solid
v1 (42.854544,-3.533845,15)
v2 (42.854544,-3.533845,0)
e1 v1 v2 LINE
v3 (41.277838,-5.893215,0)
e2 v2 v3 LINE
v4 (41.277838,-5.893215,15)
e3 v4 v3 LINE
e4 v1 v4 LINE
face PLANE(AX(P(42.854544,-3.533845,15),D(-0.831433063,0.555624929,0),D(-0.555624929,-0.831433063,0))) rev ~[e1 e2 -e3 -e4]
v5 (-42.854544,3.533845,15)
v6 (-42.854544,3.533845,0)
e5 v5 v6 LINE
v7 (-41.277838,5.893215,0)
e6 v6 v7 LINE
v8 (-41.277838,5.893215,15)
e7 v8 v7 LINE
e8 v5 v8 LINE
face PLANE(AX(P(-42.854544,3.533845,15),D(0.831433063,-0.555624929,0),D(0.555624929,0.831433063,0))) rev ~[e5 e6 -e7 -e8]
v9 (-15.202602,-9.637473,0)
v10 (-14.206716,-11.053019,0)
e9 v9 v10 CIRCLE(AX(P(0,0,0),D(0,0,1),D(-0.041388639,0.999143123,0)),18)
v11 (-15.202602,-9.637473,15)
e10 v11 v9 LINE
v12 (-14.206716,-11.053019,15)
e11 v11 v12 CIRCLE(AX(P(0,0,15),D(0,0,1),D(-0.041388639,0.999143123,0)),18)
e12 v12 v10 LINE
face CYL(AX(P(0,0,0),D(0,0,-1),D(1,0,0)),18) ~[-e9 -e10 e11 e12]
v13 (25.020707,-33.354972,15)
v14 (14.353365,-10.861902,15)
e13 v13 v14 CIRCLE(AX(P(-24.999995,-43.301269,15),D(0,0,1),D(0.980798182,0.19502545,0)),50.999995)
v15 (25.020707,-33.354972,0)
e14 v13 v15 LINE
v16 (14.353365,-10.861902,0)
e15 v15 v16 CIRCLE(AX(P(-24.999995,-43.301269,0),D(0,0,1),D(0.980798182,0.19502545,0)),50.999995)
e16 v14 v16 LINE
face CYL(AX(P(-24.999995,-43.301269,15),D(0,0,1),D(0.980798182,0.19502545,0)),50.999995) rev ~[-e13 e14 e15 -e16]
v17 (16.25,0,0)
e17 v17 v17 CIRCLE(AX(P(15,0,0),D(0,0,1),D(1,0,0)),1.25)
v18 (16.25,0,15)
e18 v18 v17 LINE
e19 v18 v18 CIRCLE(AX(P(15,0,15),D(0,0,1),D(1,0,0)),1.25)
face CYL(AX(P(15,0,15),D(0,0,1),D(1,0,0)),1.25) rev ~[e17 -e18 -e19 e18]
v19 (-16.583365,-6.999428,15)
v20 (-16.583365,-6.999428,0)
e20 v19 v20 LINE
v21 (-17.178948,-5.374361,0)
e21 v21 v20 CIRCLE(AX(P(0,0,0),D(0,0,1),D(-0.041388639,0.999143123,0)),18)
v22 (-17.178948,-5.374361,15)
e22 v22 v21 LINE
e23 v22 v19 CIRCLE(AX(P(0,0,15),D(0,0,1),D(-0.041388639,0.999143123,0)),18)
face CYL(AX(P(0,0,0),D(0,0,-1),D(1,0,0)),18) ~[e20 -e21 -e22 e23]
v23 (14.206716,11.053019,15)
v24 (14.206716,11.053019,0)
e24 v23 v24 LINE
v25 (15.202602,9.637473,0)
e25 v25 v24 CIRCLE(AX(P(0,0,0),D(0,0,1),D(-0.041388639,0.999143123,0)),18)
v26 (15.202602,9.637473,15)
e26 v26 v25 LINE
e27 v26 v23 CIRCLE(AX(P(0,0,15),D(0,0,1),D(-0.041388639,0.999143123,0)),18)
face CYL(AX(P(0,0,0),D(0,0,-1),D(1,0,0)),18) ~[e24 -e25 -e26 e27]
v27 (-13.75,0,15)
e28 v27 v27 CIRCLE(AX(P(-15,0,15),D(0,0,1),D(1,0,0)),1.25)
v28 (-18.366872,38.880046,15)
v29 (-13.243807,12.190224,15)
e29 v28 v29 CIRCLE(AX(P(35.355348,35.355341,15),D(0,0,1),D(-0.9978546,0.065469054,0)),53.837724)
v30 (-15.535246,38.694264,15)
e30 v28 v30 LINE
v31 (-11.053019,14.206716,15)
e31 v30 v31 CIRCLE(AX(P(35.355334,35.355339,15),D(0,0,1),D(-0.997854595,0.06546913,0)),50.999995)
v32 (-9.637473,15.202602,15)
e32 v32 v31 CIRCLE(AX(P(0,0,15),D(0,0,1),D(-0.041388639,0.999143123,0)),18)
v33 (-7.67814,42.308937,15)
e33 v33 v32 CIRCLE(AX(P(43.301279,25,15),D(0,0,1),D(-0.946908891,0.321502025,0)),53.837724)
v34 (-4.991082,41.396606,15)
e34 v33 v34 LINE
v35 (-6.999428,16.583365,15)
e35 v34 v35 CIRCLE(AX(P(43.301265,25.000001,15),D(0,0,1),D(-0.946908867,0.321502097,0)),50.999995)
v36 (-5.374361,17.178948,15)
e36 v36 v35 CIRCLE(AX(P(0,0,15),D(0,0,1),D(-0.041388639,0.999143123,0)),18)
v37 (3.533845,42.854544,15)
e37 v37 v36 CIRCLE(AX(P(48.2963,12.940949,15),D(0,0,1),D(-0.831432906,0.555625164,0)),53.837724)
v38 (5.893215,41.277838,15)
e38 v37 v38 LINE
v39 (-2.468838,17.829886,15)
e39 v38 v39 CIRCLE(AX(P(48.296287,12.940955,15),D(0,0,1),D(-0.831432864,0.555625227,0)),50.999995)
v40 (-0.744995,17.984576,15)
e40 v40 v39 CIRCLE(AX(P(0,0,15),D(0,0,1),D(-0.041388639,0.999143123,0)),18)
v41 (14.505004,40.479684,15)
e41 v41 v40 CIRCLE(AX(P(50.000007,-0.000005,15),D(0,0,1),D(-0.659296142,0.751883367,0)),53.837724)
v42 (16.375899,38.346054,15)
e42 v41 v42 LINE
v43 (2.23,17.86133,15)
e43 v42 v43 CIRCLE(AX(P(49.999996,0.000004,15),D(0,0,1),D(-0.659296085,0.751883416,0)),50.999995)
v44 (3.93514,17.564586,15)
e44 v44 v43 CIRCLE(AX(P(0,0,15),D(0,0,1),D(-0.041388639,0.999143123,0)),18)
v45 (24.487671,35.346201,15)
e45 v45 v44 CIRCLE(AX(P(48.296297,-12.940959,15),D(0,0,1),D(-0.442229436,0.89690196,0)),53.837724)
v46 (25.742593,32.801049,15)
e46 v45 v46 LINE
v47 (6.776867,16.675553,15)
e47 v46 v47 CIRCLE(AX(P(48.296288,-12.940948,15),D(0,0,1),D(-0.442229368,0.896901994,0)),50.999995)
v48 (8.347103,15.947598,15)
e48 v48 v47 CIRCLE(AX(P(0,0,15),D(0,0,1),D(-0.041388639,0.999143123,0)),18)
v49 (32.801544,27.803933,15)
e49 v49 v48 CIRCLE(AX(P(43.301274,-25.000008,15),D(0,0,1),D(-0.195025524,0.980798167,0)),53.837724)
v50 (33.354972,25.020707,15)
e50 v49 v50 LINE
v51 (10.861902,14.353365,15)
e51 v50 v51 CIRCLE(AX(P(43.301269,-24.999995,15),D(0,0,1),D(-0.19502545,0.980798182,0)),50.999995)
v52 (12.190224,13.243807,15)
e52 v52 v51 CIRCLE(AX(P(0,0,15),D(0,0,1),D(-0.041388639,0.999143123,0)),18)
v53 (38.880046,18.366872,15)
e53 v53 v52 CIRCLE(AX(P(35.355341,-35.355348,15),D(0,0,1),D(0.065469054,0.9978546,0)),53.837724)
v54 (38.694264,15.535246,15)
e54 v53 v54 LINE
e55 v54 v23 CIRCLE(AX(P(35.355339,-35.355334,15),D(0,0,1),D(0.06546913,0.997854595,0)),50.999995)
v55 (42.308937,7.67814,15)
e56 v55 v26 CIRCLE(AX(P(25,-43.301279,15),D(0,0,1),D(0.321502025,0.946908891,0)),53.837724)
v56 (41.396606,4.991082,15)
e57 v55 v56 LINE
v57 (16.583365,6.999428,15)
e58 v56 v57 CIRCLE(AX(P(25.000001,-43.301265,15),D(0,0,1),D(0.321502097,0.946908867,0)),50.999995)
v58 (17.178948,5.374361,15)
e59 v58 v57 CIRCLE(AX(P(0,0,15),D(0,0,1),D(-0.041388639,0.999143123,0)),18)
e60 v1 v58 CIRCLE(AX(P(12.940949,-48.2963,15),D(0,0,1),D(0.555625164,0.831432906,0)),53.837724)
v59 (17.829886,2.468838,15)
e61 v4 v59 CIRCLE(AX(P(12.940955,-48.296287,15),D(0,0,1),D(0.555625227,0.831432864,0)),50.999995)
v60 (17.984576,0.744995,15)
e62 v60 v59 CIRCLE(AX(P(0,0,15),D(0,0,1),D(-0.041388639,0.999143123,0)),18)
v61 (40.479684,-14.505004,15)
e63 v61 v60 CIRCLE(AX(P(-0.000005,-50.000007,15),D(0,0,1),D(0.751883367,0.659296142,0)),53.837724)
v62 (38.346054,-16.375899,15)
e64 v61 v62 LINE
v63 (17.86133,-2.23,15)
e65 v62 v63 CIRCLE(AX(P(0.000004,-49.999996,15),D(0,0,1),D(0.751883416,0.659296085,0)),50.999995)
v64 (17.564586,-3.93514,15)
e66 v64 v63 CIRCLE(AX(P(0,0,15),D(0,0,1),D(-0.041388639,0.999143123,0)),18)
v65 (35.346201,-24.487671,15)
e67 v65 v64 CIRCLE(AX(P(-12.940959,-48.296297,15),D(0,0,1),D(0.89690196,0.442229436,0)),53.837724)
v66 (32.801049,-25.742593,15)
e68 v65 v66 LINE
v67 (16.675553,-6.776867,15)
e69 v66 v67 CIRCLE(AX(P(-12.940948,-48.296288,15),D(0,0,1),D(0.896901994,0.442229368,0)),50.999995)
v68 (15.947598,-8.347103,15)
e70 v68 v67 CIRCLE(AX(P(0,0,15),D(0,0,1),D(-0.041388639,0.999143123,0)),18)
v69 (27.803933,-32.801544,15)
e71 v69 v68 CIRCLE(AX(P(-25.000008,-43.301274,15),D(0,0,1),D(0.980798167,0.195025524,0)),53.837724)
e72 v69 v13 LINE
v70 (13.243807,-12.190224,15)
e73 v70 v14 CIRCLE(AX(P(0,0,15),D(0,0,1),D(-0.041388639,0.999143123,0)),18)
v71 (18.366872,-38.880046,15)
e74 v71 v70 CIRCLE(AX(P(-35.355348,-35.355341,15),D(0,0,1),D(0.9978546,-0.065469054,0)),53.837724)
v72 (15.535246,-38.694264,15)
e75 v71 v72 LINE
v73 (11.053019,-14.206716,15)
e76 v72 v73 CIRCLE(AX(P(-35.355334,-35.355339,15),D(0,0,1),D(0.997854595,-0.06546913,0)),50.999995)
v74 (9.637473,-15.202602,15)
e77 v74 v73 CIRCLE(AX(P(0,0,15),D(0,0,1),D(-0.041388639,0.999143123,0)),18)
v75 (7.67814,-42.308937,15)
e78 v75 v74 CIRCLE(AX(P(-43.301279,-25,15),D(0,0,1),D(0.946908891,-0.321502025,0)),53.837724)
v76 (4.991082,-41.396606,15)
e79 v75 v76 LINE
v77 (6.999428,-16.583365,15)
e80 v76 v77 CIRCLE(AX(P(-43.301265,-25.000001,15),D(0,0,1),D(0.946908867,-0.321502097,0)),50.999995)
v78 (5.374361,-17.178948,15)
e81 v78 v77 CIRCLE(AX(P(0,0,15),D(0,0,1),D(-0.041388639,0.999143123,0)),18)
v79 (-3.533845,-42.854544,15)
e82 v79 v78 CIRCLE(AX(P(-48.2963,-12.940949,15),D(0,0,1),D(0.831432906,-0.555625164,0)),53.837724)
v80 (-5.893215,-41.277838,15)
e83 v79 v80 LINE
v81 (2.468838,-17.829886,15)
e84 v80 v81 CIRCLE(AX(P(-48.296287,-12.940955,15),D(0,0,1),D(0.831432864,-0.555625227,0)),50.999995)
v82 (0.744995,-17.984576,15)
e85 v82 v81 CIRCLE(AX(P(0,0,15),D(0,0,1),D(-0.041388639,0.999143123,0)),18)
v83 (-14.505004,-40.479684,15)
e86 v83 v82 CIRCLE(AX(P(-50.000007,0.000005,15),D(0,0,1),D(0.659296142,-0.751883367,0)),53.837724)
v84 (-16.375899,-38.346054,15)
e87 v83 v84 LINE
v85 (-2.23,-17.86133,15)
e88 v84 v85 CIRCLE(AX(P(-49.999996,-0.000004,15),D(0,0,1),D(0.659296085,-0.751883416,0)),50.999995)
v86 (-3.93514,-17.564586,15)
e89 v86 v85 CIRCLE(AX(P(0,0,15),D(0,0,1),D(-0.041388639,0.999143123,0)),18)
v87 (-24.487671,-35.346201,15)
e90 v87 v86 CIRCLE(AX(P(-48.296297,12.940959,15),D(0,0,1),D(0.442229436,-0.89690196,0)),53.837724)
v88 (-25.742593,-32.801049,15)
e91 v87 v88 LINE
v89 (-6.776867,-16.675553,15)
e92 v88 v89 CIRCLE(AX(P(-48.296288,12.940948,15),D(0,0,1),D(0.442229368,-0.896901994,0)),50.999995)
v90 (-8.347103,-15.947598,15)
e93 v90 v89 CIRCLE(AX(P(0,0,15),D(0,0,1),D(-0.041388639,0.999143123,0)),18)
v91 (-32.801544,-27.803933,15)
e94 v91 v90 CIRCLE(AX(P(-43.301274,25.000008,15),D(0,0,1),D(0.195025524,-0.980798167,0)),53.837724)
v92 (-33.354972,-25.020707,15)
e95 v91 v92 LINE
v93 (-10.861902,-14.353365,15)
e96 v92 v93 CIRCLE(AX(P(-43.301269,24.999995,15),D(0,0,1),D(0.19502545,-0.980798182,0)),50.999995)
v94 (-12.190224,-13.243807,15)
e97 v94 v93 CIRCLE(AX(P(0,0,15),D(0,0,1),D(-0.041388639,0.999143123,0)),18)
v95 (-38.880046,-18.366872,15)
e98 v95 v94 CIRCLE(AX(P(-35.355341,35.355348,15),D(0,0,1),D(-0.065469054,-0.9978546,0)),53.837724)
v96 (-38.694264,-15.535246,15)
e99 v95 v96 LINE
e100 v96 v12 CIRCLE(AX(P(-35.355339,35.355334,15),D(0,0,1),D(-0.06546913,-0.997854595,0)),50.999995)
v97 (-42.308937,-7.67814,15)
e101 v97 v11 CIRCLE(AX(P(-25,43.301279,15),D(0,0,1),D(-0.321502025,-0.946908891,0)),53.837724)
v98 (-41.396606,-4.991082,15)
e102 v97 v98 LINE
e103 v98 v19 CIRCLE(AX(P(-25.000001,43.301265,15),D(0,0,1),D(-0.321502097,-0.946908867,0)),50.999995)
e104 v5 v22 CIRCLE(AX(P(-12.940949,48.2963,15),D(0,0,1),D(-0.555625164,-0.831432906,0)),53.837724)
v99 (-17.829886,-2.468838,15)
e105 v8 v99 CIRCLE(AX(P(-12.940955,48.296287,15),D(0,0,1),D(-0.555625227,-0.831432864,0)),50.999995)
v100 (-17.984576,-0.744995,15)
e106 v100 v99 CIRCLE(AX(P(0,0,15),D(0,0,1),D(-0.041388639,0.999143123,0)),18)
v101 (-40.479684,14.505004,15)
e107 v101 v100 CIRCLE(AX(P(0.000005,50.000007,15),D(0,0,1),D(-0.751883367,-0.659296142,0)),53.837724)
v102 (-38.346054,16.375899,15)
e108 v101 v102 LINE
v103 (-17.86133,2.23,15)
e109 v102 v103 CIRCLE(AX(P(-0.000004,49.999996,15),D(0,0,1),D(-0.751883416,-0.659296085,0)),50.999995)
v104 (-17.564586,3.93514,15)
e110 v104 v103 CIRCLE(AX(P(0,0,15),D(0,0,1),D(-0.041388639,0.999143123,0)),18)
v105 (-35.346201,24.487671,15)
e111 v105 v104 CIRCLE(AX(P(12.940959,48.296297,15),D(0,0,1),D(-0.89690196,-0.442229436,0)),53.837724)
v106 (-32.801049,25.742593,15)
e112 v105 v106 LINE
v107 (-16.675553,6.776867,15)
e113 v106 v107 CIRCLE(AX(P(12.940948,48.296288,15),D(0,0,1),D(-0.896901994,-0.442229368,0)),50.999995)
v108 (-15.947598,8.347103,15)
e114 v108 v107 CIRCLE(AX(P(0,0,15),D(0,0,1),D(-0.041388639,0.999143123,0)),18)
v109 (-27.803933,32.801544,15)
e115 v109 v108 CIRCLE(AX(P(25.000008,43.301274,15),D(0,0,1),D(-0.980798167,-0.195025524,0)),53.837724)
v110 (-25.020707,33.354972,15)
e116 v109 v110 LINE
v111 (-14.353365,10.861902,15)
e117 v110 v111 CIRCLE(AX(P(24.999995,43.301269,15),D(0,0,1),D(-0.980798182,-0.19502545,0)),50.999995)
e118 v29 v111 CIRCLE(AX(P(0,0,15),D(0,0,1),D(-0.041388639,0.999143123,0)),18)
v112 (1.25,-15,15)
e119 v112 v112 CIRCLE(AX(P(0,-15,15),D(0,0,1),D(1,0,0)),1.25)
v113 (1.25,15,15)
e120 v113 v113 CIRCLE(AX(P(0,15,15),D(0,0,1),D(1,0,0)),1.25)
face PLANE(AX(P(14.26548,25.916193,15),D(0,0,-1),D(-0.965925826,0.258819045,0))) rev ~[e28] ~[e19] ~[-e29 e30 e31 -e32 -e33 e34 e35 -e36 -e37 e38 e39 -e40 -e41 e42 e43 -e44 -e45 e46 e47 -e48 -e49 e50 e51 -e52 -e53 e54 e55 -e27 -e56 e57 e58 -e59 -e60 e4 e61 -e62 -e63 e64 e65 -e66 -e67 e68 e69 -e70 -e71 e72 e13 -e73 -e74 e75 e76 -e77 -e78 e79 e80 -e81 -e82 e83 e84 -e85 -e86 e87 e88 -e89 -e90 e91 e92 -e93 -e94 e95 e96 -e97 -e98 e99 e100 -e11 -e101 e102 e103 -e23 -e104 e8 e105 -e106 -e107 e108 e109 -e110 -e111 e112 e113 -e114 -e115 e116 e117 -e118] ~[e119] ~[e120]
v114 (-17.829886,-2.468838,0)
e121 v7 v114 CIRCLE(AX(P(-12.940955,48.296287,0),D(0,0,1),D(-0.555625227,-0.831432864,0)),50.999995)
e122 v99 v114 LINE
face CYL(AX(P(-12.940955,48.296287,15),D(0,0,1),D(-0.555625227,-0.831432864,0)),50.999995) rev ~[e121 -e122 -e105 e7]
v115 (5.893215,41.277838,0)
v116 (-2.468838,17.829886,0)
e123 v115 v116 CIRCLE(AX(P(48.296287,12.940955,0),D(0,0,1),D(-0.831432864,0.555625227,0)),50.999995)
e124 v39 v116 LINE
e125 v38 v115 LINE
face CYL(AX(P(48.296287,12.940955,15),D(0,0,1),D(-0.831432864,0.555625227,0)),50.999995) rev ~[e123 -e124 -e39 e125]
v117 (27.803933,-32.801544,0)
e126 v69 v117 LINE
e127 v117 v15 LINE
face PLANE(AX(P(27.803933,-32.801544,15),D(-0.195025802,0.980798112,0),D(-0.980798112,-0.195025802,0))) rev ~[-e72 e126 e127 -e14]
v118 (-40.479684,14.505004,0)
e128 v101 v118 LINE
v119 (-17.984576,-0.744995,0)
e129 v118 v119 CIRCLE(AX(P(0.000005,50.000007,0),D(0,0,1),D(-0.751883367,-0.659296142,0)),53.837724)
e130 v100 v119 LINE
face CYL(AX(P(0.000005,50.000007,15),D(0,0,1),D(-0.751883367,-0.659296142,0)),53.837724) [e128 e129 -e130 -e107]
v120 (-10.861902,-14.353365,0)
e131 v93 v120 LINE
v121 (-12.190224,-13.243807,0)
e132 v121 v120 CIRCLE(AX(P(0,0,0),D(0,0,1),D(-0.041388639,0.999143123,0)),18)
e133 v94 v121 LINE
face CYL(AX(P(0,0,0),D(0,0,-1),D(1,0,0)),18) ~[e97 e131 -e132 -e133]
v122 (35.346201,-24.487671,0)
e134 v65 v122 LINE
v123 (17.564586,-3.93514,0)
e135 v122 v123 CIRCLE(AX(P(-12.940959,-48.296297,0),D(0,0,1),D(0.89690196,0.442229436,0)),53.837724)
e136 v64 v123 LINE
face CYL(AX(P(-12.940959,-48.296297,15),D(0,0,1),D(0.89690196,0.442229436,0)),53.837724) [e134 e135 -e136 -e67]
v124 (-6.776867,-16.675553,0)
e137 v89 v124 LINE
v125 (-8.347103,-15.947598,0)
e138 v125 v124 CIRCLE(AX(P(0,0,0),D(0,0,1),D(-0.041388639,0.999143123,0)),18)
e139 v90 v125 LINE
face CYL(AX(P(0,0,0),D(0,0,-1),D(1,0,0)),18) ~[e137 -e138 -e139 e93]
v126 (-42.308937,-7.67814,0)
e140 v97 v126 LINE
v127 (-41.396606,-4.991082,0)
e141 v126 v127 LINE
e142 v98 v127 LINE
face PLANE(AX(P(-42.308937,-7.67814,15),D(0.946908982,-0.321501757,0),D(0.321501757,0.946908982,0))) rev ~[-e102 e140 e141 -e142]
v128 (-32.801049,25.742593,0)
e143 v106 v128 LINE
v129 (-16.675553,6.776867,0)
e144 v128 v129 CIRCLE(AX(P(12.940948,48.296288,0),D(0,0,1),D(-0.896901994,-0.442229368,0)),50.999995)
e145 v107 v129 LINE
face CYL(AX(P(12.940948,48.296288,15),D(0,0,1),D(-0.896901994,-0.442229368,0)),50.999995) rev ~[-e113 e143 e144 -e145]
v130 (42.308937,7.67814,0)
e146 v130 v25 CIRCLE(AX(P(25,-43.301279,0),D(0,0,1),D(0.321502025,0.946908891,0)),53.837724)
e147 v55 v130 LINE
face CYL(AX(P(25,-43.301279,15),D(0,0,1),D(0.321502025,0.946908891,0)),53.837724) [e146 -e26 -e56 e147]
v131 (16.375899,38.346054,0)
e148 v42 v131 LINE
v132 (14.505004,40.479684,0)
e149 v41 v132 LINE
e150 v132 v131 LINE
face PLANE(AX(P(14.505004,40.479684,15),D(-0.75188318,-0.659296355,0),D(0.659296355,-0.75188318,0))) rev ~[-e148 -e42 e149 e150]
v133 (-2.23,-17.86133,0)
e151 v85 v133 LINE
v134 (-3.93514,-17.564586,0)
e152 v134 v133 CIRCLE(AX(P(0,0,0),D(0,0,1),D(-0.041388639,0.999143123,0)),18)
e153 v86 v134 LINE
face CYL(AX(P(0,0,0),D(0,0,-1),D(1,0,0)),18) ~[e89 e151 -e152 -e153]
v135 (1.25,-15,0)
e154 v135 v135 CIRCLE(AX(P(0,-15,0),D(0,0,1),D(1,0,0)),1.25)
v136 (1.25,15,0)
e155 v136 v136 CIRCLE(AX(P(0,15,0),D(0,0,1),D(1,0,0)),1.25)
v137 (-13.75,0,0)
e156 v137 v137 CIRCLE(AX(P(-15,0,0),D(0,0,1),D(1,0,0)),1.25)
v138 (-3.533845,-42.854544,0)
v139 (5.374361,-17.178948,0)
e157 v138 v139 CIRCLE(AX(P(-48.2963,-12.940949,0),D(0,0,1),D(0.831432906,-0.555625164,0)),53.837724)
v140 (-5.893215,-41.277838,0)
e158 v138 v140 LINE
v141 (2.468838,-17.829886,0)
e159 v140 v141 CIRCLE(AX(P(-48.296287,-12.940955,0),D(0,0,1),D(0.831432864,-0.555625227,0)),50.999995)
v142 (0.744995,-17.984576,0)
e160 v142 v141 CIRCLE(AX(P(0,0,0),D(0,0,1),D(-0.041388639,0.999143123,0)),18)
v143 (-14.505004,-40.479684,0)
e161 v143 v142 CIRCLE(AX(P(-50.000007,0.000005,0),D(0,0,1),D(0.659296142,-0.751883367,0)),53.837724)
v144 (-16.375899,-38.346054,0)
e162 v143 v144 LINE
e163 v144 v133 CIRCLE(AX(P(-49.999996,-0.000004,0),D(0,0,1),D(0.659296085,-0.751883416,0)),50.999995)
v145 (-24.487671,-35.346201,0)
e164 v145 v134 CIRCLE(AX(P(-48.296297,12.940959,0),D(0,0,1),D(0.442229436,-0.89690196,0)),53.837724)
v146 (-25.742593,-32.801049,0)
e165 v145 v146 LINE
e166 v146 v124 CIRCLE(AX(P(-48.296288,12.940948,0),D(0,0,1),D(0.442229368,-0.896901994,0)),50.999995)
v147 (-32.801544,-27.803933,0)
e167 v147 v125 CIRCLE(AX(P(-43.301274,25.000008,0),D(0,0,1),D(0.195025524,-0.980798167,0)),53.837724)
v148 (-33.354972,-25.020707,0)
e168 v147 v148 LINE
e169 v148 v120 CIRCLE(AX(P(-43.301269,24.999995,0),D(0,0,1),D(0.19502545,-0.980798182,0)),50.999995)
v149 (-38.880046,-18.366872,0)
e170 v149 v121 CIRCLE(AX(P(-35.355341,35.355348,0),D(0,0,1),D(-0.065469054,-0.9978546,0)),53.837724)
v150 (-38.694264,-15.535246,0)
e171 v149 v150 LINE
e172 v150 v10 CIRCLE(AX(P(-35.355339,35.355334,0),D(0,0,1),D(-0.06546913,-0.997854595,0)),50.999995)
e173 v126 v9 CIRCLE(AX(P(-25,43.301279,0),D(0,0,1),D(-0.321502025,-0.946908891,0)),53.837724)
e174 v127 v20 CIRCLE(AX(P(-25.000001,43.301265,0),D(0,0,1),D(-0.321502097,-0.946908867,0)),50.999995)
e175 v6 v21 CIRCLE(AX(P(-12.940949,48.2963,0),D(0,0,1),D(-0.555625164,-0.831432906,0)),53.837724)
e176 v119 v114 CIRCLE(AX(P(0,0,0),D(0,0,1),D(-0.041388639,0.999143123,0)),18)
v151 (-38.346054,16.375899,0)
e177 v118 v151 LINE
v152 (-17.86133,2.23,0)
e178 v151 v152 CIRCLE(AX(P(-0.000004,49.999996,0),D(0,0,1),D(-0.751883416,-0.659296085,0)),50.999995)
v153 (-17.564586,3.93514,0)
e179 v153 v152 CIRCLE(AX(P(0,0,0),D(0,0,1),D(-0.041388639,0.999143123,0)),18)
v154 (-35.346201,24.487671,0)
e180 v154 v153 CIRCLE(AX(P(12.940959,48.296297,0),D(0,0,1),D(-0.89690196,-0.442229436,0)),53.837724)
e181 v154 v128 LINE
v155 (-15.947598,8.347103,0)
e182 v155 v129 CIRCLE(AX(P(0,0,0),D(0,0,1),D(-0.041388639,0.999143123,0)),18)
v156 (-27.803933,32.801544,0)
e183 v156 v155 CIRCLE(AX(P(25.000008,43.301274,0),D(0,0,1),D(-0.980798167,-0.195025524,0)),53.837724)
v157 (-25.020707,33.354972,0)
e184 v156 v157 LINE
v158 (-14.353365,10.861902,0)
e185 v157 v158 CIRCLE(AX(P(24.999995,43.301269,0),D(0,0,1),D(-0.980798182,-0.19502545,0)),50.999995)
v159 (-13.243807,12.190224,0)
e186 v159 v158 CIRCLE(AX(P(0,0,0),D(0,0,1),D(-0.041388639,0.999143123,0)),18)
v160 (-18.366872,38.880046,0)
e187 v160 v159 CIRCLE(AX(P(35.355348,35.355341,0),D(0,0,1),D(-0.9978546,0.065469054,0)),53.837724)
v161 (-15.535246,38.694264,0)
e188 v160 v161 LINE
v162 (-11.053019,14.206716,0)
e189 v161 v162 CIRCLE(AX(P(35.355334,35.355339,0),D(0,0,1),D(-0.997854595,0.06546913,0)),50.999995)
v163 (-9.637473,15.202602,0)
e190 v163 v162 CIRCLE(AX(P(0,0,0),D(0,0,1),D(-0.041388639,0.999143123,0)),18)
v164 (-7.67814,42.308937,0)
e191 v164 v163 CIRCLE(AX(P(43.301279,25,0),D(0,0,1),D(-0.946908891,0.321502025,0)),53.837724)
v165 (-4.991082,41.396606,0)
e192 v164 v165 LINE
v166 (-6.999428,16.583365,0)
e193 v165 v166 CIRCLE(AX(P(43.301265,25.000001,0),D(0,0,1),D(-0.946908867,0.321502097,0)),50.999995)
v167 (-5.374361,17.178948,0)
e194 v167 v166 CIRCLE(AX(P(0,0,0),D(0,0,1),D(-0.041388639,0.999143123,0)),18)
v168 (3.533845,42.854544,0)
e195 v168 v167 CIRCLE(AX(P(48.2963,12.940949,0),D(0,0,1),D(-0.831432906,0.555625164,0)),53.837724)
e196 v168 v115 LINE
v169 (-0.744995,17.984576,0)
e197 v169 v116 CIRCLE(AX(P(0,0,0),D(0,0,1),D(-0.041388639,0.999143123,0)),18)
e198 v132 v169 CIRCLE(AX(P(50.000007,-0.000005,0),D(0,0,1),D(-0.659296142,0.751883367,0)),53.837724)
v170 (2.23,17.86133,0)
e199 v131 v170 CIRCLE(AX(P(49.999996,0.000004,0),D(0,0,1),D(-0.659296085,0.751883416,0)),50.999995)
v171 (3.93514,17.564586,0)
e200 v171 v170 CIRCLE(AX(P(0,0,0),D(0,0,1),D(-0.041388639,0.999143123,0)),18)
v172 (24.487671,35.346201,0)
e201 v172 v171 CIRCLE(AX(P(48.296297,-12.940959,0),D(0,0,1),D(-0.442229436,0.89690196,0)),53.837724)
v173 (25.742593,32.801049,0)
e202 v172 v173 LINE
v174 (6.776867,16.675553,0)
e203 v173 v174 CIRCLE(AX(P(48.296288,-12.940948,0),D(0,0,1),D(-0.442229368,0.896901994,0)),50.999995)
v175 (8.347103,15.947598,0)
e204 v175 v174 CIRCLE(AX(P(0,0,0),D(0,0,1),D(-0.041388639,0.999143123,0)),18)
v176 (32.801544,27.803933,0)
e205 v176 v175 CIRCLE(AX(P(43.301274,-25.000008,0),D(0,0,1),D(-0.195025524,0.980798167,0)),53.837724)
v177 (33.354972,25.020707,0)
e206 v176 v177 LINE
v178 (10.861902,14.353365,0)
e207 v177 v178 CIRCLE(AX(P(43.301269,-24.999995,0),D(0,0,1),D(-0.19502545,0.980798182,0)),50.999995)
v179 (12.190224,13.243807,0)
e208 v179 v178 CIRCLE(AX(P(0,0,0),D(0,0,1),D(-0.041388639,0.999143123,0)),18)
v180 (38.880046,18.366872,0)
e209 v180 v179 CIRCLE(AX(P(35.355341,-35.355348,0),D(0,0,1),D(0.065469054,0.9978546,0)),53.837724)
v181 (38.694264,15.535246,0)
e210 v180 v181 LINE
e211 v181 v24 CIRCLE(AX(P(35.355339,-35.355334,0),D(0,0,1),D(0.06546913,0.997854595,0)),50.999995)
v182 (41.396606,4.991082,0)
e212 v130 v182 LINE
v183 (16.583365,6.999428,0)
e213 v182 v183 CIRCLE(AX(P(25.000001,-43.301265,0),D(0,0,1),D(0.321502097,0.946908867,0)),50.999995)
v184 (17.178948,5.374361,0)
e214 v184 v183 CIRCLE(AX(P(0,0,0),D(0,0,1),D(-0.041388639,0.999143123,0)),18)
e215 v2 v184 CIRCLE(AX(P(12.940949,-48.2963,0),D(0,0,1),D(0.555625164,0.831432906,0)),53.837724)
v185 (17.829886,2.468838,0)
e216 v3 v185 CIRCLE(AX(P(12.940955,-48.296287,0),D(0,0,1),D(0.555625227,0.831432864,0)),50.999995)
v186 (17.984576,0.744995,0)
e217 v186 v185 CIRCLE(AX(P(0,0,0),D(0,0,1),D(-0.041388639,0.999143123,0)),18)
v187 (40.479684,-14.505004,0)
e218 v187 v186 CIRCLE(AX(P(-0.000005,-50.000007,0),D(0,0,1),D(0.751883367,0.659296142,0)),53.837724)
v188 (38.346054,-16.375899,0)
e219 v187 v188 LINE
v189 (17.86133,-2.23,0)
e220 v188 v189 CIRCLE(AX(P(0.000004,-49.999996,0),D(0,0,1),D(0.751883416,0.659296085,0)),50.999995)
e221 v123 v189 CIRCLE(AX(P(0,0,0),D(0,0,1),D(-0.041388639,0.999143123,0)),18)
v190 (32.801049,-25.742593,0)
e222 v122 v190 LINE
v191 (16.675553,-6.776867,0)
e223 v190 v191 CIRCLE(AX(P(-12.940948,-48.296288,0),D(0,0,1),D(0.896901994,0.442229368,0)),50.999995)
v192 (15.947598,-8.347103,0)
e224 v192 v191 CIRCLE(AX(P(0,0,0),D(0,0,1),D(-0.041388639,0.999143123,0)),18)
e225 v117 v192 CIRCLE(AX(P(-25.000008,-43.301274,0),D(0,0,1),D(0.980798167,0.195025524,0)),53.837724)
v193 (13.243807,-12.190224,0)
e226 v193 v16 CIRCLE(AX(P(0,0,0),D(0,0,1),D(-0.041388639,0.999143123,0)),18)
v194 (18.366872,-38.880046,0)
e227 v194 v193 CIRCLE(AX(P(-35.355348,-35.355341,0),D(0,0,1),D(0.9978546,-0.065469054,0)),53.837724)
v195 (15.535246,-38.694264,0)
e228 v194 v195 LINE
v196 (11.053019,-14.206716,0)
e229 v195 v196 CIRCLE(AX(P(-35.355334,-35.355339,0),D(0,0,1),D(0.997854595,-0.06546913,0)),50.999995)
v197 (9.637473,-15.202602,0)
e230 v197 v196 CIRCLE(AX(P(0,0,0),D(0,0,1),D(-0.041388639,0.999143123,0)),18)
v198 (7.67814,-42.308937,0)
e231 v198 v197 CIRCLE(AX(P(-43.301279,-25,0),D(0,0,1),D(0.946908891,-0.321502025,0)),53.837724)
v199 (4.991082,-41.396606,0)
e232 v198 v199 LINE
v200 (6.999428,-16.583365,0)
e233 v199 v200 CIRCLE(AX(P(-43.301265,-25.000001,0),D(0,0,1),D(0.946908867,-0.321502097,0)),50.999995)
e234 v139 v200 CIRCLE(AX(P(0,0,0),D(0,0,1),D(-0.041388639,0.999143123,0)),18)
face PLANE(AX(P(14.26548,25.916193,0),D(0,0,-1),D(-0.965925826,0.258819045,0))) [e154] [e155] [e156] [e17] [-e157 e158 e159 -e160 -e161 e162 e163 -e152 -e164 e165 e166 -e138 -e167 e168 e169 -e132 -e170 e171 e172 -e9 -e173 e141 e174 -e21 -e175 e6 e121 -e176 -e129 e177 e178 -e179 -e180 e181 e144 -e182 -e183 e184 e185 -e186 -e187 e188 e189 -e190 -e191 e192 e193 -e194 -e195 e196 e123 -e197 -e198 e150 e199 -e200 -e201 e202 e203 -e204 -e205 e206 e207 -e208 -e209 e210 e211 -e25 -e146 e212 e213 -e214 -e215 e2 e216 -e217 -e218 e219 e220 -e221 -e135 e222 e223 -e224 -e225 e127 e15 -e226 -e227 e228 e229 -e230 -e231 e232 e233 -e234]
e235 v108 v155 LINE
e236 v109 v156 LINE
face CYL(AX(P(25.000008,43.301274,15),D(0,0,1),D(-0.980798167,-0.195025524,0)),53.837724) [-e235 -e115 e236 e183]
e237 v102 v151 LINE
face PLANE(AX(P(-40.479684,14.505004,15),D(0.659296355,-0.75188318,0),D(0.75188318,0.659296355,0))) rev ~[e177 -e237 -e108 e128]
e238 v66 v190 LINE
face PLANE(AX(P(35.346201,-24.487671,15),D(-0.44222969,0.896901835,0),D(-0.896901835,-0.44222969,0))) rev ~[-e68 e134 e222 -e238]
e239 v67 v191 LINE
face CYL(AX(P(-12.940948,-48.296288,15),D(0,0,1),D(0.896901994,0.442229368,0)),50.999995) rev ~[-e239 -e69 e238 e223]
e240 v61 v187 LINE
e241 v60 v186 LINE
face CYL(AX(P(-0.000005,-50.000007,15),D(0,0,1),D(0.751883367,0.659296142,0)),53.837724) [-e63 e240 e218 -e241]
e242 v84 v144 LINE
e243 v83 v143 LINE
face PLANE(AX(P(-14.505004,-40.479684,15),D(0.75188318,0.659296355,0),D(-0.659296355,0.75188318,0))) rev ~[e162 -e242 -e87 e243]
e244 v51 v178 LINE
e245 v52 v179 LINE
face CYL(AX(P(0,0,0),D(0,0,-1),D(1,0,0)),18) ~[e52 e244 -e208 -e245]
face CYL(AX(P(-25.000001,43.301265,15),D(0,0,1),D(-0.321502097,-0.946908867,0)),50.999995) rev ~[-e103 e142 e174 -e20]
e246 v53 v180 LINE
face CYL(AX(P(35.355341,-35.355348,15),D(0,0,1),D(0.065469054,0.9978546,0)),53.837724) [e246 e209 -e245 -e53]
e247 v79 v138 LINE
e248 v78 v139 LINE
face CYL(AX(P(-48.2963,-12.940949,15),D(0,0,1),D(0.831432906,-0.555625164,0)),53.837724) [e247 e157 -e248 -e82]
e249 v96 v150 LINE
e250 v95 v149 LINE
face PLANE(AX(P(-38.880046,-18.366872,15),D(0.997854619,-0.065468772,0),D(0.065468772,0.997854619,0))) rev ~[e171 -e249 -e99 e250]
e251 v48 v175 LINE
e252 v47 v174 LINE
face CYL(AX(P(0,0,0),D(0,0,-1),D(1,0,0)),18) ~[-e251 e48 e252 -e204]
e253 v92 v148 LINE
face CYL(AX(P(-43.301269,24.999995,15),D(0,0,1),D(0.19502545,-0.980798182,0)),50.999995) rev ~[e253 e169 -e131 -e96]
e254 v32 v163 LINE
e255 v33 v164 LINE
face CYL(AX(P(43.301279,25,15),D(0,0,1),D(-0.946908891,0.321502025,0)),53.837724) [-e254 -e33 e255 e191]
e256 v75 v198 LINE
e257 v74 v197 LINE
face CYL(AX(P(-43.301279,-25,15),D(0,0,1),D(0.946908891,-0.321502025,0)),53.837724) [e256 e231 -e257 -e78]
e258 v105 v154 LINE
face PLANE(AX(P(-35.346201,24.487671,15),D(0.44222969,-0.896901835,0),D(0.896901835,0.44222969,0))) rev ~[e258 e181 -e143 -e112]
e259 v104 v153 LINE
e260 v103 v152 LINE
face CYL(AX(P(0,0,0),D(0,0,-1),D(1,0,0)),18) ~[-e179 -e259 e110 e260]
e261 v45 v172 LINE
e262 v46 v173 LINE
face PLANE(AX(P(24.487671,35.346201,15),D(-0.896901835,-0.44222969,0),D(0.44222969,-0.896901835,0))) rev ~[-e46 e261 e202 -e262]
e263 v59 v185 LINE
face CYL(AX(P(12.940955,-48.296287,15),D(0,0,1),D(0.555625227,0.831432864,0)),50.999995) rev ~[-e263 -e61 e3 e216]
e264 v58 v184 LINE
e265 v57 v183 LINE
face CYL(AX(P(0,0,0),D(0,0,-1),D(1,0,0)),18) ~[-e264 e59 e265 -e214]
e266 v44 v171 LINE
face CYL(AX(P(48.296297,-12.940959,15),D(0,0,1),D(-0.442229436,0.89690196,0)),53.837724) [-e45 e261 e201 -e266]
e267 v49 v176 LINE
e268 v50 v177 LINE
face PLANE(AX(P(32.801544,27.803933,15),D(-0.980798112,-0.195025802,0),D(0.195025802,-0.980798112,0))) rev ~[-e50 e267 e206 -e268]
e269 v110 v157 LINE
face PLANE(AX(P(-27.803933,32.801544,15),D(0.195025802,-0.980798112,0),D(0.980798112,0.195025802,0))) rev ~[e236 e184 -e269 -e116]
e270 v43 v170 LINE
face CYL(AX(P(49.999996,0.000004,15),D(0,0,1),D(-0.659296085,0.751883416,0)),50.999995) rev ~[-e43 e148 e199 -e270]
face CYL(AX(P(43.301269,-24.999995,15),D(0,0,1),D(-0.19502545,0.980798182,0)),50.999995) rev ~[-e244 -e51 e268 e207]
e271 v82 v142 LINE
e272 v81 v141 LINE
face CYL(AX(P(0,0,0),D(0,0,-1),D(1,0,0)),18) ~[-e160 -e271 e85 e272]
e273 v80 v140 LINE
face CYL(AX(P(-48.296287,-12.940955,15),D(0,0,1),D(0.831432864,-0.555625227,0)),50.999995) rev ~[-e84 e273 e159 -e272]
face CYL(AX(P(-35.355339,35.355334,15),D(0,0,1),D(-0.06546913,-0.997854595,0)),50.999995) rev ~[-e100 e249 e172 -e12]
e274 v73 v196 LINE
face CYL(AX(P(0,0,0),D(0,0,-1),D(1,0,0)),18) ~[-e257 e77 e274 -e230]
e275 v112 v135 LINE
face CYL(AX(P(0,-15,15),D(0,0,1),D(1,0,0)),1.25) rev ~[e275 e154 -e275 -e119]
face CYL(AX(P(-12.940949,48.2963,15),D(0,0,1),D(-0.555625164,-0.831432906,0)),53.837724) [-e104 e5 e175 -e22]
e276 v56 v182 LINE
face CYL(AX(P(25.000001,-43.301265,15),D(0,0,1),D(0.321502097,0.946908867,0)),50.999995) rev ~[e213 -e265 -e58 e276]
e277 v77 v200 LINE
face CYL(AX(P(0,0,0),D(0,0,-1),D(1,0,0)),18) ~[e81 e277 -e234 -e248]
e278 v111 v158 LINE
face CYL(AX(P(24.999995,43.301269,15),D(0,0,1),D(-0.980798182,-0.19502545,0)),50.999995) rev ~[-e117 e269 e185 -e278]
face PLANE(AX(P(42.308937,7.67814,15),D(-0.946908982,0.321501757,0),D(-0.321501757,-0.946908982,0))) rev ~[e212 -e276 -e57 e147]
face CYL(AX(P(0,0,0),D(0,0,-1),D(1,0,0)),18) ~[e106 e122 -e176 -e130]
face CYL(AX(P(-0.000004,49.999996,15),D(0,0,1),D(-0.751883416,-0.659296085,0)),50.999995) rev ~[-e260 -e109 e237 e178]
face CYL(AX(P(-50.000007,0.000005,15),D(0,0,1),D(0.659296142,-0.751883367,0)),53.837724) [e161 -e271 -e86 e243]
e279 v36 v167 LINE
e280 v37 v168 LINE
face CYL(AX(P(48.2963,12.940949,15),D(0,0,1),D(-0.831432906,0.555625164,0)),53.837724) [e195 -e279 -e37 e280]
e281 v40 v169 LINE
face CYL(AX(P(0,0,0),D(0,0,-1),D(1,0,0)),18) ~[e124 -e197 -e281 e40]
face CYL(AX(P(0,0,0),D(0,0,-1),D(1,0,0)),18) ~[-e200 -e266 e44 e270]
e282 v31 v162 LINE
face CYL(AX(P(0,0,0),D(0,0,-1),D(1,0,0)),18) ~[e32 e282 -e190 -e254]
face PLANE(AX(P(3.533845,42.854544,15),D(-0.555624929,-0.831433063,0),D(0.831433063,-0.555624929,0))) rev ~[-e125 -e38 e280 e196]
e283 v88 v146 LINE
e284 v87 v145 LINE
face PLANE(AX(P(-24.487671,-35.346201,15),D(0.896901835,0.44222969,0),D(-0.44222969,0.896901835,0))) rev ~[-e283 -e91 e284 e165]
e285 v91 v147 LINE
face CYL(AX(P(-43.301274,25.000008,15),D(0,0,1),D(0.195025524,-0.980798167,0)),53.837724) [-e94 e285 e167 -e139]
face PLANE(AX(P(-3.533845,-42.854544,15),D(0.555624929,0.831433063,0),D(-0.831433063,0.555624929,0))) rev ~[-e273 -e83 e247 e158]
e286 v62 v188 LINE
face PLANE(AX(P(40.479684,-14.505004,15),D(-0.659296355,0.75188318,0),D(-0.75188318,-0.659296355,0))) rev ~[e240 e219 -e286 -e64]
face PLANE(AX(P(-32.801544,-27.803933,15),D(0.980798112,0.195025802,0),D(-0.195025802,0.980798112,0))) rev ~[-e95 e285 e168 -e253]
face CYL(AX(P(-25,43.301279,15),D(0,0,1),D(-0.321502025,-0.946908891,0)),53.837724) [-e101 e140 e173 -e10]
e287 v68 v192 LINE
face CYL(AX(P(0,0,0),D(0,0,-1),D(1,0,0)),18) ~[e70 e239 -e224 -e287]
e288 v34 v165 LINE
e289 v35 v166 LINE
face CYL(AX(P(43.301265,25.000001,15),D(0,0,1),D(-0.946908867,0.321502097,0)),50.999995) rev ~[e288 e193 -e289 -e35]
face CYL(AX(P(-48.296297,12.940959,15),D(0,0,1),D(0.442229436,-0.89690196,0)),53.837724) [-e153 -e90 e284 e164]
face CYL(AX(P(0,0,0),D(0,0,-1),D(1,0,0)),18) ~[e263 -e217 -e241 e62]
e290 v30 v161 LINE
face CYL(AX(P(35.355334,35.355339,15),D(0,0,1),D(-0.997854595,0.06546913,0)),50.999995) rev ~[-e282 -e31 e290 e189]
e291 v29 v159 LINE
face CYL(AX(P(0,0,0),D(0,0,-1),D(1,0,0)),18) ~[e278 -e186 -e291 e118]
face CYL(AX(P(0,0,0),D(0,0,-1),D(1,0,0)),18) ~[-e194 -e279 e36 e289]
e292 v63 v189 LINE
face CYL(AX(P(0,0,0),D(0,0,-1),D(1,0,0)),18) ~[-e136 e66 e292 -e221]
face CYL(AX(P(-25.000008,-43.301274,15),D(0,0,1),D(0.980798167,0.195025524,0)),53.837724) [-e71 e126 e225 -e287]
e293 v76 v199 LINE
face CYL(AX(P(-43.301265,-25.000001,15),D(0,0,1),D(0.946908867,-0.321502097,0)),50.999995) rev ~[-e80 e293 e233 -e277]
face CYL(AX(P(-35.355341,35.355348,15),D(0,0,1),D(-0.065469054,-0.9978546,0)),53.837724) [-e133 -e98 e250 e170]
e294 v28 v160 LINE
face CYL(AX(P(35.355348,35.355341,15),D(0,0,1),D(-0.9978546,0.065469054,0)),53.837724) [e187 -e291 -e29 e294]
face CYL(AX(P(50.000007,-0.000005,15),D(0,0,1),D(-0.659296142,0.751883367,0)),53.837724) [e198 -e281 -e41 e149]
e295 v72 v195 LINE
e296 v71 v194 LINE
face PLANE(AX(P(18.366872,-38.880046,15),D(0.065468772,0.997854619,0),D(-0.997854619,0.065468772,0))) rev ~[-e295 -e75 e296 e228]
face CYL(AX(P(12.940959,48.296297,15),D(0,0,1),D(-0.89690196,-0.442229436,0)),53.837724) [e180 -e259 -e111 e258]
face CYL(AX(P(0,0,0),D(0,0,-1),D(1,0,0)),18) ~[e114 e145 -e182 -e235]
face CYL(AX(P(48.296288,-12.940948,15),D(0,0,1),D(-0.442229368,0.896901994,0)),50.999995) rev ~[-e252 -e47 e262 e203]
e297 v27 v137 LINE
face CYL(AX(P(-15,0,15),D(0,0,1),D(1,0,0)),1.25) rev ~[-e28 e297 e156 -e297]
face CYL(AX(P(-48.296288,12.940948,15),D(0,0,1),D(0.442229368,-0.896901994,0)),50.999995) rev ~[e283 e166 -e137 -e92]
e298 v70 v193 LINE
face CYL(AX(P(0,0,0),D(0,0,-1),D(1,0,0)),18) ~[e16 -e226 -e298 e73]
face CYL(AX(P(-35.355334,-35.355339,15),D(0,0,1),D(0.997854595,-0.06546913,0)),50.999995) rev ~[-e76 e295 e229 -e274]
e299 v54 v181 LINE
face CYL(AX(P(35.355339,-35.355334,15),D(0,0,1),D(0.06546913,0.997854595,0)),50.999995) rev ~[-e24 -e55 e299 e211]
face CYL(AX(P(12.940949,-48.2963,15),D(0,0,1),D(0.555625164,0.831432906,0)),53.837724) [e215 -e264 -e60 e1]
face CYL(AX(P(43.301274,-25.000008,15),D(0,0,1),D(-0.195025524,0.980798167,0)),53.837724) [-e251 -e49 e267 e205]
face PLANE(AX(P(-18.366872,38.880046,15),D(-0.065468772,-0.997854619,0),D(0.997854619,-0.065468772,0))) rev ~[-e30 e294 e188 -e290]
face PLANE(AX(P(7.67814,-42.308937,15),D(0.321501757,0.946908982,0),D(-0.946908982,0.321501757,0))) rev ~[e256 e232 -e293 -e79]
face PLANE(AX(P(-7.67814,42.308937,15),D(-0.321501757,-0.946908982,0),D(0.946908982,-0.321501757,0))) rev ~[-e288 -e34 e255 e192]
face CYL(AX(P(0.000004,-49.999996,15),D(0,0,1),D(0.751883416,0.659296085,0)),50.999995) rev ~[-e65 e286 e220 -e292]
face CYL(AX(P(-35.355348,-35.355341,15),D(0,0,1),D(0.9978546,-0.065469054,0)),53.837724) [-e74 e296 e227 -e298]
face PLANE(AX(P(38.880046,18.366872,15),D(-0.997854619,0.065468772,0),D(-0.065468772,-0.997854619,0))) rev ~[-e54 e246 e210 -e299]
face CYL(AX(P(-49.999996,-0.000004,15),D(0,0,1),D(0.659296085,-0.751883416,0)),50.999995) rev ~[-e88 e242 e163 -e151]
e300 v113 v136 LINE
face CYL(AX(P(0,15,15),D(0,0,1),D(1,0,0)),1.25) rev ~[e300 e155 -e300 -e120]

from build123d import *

# Parameters (mm, degrees)
COPYSKETCH001_R    = 18
PAD_DEPTH          = 15
PAD001_DEPTH       = 15
POLARPATTERN_COUNT = 24
SKETCH_R           = 1.25
POCKET_DEPTH       = 15


with BuildPart() as part:
    # CopySketch001 → Pad (new body)
    with BuildSketch(Plane.XY):
        Circle(COPYSKETCH001_R)
    extrude(amount=PAD_DEPTH)

    # Sketch001 (on Face3 of Pad) → Pad001 (join)
    with BuildSketch(Plane.XY.offset(15)):
        with BuildLine():
            ThreePointArc((16.375899, 38.346054), (7.775164, 28.601805), (1.916739, 17))
            Line((-1.083261, 17), (1.916739, 17))
            ThreePointArc((14.505004, 40.479684), (5.147213, 29.777962), (-1.083261, 17))
            Line((14.505004, 40.479684), (16.375899, 38.346054))
        make_face()
    pad001 = extrude(amount=-PAD001_DEPTH)

    # PolarPattern: Pad001 ×24 about axis
    polarpattern_axis = Axis((0, 0, 0), (0, 0, 1))
    for i in range(1, POLARPATTERN_COUNT):
        add(pad001.rotate(polarpattern_axis, i * 360 / POLARPATTERN_COUNT))

    # Sketch (on Face57 of PolarPattern) → Pocket (cut)
    with BuildSketch(Plane.XY.offset(15)):
        with Locations((0, 15)):
            Circle(SKETCH_R)
        with Locations((-15, 0)):
            Circle(SKETCH_R)
        with Locations((0, -15)):
            Circle(SKETCH_R)
        with Locations((15, 0)):
            Circle(SKETCH_R)
    extrude(amount=-POCKET_DEPTH, mode=Mode.SUBTRACT)


solid = part.part
